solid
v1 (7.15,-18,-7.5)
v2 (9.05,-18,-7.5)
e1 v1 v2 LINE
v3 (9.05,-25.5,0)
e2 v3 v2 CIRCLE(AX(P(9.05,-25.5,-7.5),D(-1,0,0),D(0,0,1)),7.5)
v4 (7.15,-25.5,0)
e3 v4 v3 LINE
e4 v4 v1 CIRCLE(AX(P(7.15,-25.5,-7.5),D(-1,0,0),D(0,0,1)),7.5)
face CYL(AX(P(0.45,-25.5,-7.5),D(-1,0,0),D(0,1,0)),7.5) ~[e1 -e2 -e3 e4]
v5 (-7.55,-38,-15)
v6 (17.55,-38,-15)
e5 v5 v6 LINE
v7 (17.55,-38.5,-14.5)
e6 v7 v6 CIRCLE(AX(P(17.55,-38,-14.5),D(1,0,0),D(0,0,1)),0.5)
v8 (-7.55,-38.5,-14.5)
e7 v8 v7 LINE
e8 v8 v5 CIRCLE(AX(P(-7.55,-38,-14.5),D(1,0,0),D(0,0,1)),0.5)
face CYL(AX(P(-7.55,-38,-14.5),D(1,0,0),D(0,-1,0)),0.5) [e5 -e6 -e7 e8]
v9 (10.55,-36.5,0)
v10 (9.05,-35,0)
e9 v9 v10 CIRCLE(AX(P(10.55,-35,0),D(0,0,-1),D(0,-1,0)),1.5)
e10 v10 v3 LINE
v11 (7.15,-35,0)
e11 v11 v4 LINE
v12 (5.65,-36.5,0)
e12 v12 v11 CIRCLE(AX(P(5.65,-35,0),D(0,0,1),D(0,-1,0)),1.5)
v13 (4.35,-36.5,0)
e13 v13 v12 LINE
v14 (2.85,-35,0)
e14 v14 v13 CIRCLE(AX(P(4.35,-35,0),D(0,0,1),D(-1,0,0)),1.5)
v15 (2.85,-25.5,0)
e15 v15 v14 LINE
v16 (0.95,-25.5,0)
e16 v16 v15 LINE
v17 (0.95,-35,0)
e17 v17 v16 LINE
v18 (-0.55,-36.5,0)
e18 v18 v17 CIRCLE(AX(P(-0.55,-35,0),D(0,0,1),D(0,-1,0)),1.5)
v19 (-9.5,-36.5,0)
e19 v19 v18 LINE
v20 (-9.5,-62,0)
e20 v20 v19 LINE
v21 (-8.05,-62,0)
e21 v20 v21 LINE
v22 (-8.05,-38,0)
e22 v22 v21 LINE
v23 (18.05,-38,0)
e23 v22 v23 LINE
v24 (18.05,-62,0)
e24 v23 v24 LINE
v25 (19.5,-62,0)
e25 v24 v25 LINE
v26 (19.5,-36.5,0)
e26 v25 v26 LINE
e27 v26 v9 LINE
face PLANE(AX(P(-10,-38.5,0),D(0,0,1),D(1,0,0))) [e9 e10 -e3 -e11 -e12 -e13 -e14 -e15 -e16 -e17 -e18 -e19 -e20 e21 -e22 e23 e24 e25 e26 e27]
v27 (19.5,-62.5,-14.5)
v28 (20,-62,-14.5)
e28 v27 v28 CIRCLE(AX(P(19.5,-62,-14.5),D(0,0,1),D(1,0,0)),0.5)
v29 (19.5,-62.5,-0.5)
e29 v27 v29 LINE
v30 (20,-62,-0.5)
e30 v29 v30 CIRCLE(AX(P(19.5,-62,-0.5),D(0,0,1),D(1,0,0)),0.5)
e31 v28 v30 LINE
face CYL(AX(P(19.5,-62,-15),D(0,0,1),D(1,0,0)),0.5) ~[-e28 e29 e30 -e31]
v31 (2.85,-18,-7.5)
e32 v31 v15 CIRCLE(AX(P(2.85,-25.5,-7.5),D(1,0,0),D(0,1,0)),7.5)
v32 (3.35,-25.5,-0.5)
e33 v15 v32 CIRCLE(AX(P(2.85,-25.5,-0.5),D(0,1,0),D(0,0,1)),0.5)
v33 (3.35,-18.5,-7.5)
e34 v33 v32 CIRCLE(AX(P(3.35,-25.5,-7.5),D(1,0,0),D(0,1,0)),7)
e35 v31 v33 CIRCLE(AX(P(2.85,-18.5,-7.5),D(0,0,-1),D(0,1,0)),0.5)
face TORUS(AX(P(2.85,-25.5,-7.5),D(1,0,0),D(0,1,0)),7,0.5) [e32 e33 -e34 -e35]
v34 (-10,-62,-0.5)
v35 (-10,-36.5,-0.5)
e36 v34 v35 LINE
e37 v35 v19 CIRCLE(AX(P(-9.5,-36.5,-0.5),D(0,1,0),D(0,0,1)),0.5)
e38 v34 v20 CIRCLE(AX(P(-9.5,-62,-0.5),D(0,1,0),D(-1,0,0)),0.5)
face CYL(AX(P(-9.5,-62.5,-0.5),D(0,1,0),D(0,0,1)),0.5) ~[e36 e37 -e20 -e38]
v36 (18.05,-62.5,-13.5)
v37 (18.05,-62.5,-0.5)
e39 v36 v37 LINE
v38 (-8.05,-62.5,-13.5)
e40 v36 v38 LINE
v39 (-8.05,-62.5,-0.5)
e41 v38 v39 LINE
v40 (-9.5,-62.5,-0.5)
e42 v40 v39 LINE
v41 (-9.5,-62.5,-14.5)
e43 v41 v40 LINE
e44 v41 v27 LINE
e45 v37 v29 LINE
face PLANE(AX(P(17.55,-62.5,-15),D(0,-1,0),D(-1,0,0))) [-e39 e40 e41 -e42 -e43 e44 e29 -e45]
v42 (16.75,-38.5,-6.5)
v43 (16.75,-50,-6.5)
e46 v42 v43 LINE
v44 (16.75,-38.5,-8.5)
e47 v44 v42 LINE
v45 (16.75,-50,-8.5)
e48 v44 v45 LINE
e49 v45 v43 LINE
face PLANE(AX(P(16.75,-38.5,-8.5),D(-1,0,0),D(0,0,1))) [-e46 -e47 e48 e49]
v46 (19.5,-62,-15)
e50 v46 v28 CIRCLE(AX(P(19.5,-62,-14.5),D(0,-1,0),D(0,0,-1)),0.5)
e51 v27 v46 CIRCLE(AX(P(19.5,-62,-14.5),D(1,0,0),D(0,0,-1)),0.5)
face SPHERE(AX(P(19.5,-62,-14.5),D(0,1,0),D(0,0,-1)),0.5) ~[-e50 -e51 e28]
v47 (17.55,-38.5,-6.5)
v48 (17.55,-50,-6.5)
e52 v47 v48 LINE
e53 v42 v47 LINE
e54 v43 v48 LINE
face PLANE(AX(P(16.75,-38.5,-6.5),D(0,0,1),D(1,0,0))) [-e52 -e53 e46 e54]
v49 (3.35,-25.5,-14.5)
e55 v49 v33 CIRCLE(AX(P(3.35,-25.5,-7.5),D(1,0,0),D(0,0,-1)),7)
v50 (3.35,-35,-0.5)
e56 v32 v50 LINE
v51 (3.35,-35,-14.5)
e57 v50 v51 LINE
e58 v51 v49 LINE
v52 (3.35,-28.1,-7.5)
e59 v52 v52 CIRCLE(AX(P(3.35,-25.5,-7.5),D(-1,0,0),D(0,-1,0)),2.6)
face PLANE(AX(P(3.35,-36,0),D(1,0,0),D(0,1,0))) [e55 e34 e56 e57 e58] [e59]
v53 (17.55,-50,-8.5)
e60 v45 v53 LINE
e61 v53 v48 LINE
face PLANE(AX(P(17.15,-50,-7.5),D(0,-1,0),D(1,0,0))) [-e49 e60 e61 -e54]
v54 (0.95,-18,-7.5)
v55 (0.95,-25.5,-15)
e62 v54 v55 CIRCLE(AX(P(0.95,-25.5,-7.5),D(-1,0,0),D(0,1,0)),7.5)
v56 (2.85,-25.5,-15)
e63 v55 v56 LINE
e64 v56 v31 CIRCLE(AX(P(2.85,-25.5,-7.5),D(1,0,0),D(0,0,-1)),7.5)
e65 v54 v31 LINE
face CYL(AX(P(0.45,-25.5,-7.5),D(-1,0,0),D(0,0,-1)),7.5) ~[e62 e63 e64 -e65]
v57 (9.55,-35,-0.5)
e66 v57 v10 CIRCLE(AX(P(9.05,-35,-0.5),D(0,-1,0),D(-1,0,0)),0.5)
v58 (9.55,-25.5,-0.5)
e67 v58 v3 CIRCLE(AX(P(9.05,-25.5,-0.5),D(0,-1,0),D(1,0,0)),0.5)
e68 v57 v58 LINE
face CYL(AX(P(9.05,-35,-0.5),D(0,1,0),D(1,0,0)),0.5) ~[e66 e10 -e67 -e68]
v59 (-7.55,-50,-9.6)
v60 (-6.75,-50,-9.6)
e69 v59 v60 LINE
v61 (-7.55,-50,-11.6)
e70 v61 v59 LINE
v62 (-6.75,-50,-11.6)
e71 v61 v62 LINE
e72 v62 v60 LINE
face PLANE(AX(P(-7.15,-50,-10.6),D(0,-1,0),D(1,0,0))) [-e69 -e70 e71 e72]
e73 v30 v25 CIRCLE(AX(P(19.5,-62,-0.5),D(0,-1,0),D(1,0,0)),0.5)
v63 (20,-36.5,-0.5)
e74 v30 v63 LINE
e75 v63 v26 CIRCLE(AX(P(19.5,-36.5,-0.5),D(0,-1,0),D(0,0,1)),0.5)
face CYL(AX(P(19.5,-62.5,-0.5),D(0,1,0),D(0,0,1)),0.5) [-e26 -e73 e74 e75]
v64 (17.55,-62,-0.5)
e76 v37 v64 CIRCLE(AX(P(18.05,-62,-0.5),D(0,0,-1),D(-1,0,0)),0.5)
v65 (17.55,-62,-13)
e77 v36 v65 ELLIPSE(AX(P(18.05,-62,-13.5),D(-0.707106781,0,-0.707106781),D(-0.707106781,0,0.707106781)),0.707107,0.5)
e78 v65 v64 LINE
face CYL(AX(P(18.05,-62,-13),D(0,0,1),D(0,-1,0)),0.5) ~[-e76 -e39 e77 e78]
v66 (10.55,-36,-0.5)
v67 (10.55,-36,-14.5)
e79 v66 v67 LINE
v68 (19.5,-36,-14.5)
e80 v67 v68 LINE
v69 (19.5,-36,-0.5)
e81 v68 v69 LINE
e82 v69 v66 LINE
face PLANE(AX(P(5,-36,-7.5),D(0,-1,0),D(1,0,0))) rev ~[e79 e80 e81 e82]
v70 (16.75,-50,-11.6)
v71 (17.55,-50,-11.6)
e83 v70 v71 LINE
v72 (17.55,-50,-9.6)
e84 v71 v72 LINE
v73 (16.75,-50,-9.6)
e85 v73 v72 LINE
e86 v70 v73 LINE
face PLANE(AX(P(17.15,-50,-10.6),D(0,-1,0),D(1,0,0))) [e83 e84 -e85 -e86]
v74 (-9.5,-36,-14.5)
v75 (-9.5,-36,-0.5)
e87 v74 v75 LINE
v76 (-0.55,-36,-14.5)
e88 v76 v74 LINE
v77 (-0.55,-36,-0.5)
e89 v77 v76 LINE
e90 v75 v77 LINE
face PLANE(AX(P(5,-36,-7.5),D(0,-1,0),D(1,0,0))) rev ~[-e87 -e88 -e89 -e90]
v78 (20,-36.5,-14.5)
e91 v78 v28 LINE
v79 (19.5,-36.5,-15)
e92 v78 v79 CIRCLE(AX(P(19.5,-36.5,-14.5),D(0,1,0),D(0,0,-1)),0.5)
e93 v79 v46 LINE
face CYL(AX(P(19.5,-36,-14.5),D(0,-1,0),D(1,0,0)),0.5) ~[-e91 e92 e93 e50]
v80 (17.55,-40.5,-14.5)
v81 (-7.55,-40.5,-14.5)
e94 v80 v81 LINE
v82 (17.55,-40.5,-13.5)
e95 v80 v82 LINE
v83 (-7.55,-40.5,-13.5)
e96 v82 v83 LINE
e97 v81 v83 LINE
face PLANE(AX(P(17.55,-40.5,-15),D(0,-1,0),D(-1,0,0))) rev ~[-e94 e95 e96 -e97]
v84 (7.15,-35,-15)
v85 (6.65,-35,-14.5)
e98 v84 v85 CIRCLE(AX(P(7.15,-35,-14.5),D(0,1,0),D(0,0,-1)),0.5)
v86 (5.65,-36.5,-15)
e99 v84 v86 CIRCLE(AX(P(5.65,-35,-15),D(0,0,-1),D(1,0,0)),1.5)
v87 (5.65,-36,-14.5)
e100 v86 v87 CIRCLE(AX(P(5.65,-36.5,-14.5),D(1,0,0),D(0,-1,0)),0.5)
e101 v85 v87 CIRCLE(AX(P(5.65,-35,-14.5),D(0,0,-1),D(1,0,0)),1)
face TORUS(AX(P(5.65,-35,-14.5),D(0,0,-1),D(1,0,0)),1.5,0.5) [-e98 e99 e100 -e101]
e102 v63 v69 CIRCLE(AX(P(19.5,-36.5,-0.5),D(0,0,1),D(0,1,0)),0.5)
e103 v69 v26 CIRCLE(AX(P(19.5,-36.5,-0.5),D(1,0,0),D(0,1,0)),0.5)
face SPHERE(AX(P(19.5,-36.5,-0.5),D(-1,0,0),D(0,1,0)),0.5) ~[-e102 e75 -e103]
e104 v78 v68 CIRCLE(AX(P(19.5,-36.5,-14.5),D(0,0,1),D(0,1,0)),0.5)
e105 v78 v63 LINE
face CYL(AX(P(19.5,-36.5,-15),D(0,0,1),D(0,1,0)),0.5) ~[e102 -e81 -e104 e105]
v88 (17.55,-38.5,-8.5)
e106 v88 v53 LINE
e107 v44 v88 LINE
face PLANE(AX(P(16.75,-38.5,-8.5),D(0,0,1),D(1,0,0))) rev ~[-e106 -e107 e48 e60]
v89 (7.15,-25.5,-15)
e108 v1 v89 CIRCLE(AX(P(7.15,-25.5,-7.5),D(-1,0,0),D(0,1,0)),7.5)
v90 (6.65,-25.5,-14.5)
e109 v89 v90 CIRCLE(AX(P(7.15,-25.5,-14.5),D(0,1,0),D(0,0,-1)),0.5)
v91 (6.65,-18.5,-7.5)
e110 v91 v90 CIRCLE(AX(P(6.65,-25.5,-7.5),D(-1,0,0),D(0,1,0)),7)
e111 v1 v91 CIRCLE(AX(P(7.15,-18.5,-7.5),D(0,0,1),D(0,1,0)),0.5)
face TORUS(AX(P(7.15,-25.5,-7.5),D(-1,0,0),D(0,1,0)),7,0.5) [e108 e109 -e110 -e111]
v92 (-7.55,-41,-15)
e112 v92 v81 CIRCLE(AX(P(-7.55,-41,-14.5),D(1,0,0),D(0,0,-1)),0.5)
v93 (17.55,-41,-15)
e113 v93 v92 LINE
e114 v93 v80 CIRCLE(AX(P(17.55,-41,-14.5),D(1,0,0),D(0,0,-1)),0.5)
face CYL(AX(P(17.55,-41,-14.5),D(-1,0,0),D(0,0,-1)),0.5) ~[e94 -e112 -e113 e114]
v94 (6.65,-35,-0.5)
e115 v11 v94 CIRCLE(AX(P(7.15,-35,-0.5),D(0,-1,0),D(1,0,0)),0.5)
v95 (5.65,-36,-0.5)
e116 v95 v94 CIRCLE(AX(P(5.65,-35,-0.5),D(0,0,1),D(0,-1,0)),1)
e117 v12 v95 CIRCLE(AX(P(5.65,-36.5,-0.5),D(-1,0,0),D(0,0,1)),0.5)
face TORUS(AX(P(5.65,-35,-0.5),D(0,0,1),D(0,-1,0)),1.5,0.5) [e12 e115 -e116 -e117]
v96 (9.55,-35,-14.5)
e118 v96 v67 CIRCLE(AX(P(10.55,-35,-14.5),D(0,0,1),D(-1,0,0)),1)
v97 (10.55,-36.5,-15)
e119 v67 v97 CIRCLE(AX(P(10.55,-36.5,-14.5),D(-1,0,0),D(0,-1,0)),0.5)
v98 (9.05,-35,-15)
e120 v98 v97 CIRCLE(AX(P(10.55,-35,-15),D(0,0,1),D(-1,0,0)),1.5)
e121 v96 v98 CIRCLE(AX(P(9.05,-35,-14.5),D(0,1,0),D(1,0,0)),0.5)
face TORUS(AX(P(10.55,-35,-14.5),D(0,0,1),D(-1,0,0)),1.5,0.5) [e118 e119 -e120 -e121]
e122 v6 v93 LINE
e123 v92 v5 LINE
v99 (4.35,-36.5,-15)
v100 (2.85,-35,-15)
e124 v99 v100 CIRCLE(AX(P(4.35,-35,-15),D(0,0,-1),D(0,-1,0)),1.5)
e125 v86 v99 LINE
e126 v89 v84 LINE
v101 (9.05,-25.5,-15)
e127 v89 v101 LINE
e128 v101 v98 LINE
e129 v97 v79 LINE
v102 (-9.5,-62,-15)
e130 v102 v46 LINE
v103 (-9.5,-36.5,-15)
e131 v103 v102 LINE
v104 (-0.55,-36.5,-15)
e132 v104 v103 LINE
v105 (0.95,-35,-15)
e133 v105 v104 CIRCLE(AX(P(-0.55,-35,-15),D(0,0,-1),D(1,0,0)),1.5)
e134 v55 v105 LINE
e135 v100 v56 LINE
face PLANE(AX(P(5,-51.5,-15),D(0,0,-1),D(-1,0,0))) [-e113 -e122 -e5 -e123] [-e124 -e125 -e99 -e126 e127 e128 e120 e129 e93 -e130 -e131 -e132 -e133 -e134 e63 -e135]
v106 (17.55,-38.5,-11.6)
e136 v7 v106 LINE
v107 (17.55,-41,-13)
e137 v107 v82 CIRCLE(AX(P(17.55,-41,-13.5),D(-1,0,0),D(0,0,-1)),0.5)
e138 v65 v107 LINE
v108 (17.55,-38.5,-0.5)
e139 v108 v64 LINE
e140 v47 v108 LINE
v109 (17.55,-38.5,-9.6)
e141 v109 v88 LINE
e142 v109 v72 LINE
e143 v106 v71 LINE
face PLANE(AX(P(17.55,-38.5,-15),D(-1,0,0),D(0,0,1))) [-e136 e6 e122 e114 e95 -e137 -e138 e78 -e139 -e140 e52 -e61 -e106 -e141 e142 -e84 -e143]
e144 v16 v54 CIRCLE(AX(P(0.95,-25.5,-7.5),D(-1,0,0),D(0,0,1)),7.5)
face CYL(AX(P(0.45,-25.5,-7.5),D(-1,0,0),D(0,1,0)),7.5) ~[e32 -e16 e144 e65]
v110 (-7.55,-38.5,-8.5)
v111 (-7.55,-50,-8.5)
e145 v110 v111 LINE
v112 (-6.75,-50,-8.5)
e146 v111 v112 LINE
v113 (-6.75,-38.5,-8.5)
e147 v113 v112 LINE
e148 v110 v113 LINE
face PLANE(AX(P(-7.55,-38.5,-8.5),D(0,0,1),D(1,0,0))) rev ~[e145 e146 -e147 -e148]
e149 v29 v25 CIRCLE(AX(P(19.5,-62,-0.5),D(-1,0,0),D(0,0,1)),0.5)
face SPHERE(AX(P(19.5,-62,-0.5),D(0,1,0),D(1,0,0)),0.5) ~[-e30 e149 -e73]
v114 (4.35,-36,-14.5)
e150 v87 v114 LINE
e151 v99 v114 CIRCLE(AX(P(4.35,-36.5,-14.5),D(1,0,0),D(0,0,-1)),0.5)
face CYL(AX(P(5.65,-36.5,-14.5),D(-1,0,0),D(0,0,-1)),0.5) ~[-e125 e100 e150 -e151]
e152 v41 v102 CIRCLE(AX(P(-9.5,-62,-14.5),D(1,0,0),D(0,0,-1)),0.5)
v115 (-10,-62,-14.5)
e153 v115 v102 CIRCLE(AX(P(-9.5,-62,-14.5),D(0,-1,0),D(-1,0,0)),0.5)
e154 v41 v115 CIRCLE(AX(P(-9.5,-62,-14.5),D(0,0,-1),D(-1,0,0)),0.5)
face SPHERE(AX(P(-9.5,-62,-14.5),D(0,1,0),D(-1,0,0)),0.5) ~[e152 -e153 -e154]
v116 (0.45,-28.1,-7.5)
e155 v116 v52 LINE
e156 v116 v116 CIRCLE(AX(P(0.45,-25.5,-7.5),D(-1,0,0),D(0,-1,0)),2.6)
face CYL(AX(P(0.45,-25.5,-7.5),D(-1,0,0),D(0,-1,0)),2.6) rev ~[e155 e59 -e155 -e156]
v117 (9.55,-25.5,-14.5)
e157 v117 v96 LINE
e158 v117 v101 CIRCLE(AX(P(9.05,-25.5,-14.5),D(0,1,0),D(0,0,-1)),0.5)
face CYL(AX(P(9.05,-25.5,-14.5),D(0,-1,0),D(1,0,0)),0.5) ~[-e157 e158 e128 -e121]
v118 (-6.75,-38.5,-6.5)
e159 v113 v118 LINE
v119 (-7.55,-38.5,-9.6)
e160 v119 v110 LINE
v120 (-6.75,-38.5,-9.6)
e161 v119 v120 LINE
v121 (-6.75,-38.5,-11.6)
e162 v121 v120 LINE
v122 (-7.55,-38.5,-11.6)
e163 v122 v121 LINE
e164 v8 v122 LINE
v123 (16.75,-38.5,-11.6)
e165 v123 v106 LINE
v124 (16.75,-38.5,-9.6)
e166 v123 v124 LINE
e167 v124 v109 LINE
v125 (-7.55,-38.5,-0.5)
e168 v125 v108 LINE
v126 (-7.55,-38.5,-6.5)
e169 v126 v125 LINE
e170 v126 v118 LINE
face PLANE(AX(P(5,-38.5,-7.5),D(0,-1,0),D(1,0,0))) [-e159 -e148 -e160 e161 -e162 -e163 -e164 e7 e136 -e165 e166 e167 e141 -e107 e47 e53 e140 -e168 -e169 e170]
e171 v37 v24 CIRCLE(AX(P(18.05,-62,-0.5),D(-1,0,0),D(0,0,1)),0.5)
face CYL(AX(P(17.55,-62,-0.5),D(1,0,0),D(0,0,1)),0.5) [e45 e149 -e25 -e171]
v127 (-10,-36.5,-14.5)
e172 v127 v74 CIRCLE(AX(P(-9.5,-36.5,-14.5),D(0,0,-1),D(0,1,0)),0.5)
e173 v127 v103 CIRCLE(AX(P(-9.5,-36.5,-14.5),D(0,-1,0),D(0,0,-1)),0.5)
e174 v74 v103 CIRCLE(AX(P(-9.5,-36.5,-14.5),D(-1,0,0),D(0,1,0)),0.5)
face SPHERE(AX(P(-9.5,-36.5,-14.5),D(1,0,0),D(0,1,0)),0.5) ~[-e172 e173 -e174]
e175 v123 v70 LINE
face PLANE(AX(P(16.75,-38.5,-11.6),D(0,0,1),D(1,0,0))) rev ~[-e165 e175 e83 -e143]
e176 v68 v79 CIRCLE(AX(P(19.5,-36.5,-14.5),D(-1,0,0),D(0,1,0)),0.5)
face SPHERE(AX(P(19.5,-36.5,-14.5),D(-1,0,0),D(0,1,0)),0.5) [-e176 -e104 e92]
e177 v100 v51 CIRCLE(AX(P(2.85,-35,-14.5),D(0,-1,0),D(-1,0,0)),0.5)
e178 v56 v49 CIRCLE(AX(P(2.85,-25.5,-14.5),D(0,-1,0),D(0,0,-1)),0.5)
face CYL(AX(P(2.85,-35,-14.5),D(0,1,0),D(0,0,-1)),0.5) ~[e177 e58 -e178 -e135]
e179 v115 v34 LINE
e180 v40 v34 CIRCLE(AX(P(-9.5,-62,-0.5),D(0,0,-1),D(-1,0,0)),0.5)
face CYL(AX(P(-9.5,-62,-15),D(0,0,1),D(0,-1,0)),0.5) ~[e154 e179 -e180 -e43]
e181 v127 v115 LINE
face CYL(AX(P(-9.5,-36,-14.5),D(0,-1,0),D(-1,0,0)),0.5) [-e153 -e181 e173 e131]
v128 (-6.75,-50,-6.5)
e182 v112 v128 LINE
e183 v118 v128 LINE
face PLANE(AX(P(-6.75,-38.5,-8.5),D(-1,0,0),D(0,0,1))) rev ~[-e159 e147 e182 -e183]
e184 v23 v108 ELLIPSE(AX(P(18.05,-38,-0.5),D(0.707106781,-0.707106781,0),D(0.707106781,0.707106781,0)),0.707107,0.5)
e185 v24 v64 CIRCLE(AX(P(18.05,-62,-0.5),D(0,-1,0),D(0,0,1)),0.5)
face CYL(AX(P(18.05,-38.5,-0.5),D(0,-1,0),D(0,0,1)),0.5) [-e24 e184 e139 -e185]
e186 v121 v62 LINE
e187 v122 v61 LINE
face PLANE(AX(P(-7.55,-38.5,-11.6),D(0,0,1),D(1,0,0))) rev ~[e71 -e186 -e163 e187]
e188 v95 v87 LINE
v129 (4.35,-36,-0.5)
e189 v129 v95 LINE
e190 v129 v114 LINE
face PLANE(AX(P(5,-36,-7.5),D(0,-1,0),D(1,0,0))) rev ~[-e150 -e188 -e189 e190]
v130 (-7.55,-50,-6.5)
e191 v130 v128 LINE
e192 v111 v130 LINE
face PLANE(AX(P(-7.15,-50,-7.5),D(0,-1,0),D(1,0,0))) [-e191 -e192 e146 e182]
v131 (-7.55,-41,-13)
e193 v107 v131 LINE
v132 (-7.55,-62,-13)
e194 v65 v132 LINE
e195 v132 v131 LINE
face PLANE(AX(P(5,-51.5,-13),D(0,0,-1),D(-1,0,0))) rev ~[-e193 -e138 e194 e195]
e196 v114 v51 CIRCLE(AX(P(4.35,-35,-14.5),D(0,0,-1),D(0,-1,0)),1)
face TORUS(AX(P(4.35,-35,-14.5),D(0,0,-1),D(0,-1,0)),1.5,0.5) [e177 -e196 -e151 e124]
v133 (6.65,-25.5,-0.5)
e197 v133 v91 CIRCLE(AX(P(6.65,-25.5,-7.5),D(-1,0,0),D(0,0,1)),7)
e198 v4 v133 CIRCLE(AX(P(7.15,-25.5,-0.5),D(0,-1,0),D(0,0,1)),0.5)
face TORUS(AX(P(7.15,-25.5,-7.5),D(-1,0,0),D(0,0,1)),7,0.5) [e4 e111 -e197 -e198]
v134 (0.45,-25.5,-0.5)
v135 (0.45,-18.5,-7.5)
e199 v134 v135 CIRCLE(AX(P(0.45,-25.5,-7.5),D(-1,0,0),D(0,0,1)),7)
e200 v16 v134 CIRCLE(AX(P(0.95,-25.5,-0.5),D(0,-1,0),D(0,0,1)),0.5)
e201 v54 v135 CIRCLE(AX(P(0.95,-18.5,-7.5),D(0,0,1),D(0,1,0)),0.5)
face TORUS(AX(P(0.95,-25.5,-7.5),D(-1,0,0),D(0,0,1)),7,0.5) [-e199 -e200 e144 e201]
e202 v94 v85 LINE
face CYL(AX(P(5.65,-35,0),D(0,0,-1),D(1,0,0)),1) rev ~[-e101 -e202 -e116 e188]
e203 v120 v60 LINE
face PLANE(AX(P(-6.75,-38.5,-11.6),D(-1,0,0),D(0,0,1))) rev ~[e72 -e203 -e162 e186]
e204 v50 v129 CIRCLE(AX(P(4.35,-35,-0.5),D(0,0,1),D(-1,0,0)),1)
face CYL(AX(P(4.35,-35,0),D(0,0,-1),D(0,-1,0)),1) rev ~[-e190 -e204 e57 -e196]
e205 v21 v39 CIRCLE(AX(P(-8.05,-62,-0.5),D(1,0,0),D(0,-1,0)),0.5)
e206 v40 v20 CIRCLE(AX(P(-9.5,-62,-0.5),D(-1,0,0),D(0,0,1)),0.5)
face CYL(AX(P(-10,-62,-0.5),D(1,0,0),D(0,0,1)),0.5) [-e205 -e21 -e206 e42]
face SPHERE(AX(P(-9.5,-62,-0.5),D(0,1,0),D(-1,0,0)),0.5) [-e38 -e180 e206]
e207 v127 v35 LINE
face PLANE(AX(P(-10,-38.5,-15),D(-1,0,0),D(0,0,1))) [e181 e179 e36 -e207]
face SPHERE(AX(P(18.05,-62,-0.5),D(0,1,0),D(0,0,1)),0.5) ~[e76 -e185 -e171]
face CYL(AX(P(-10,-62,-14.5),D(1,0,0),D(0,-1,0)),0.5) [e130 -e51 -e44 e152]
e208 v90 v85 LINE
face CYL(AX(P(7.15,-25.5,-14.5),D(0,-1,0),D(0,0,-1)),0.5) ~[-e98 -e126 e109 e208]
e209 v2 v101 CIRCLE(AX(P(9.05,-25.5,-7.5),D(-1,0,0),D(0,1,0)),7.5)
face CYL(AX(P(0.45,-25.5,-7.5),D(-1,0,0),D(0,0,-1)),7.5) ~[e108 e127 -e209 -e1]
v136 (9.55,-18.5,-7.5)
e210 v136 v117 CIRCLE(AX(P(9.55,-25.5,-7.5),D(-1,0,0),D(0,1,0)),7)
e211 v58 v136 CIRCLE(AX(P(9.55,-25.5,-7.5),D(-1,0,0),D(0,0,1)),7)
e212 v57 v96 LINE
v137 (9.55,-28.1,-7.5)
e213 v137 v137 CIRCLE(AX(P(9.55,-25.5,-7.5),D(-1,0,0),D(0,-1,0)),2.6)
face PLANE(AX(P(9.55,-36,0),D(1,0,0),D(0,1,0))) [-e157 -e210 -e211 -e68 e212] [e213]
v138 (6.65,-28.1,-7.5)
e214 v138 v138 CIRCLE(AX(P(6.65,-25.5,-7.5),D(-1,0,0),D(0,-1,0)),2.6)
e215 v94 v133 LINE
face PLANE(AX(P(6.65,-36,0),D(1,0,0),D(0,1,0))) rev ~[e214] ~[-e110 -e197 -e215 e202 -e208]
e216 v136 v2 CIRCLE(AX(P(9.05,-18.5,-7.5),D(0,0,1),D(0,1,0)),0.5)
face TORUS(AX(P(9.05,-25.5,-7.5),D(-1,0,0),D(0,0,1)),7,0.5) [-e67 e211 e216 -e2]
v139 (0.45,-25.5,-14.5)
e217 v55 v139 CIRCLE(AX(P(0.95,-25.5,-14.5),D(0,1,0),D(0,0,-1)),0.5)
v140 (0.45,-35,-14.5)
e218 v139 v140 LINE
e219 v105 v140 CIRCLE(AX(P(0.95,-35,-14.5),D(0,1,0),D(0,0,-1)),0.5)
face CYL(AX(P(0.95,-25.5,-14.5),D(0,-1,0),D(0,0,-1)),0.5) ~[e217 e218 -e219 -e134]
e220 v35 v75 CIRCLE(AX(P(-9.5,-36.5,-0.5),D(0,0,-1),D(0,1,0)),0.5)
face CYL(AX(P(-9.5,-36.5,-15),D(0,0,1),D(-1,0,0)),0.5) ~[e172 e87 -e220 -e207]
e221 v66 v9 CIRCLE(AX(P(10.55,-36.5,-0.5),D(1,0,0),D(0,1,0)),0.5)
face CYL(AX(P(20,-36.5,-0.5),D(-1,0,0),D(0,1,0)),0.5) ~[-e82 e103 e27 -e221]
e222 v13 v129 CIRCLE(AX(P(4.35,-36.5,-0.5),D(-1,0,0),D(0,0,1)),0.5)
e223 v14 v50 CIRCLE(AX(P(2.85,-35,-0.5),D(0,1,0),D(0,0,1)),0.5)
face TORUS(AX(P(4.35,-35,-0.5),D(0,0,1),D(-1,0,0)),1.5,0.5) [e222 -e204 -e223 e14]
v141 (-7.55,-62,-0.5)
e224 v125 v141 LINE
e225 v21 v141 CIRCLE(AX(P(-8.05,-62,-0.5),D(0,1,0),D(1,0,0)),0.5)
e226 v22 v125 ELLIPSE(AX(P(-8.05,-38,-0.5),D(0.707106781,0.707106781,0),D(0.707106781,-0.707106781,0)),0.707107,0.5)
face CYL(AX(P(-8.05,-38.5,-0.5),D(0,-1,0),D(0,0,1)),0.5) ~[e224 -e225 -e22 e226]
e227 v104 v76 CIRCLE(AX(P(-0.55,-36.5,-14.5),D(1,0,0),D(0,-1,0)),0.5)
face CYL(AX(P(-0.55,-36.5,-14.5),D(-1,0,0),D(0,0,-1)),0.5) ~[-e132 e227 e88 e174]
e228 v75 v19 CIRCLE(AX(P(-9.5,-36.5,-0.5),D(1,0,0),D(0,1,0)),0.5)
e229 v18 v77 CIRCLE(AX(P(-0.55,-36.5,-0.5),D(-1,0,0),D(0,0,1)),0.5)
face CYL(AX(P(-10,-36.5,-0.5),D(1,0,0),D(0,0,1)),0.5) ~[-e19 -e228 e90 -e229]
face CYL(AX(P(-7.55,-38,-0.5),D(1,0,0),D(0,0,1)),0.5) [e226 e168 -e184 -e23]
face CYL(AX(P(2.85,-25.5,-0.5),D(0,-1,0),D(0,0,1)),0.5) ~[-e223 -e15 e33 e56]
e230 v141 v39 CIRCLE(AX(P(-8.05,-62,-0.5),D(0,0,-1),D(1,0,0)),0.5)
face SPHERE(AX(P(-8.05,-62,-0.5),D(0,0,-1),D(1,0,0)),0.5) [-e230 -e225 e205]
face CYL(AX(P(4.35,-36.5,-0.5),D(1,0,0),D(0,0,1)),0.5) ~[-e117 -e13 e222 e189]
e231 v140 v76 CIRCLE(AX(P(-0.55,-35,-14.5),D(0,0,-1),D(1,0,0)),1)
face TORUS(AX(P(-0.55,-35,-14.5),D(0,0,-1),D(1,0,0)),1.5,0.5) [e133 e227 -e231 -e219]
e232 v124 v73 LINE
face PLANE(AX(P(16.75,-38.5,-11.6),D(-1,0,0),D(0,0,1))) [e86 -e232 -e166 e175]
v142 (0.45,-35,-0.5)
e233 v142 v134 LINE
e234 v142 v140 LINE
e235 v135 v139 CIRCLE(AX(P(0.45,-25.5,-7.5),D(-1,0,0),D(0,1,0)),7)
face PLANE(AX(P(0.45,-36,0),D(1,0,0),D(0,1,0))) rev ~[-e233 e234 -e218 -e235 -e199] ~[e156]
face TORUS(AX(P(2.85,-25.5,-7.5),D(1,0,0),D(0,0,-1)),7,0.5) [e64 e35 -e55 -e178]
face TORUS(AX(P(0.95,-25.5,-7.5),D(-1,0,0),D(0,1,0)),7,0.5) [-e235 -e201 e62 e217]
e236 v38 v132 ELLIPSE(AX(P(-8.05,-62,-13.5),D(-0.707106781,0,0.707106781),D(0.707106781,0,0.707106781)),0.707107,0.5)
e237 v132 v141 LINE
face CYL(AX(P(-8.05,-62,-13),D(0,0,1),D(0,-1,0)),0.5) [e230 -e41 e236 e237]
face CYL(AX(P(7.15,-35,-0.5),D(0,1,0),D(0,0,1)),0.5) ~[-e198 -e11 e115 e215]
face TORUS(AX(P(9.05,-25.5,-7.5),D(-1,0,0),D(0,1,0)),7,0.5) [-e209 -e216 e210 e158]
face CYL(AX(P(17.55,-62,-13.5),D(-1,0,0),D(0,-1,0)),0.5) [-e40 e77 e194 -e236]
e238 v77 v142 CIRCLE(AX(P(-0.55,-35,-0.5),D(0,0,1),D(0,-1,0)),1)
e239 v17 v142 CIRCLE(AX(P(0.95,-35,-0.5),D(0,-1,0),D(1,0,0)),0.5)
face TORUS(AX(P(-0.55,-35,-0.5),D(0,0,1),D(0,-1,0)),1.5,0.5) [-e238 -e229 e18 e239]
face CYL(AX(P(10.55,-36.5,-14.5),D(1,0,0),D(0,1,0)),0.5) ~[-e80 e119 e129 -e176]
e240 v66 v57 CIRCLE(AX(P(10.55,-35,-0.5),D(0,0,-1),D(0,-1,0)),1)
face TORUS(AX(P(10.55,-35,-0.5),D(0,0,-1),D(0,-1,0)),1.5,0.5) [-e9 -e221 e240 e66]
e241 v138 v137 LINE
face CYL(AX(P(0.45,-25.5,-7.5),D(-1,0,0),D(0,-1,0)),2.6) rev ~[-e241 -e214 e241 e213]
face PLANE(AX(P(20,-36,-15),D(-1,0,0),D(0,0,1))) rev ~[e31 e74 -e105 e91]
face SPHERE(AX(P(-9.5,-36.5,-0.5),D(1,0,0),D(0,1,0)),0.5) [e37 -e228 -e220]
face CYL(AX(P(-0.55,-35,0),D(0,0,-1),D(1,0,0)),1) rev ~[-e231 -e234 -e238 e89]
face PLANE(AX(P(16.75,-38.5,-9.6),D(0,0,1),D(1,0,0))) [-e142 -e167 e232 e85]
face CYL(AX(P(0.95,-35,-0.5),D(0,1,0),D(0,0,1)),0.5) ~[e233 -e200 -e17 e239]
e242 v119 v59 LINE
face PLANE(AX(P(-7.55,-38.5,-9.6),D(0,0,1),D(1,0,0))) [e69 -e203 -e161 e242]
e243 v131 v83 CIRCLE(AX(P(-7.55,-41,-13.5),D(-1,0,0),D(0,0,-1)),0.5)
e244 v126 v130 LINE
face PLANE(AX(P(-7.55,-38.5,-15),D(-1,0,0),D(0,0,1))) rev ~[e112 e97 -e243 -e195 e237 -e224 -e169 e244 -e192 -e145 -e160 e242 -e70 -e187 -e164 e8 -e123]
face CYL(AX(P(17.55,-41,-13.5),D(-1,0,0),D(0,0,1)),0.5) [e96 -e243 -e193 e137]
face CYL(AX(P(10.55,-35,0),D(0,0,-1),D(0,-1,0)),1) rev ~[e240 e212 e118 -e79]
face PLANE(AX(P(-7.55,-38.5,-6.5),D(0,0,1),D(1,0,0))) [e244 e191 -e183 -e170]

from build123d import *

# Parameters (mm, degrees)
SKETCH1_W             = 2.9
SKETCH1_H             = 18
BOSS_EXTRUDE1_DEPTH   = 15
BOSS_EXTRUDE1_2_DEPTH = 15
SKETCH2_R             = 2.6
CUT_EXTRUDE2_DEPTH    = 15
SKETCH3_W             = 30
SKETCH3_H             = 15
BOSS_EXTRUDE2_DEPTH   = 2.5
SKETCH4_W             = 2.45
SKETCH4_H             = 15
BOSS_EXTRUDE3_DEPTH   = 24
SKETCH5_W             = 25.1
SKETCH5_H             = 22
BOSS_EXTRUDE4_DEPTH   = 2
SKETCH6_W             = 0.8
SKETCH6_H             = 2
BOSS_EXTRUDE5_DEPTH   = 11.5
FILLET1_R             = 1
FILLET2_R             = 0.5


with BuildPart() as part:
    # Sketch1 → Boss-Extrude1 (new body)
    with BuildSketch(Plane.XY):
        with Locations((1.900000354, -27)):
            Rectangle(SKETCH1_W, SKETCH1_H)
    extrude(amount=-BOSS_EXTRUDE1_DEPTH)


with BuildPart() as body_2:
    # Sketch1 → Boss-Extrude1 2 (new body)
    with BuildSketch(Plane.XY):
        with Locations((8.100000354, -27)):
            Rectangle(SKETCH1_W, SKETCH1_H)
    extrude(amount=-BOSS_EXTRUDE1_2_DEPTH)


with BuildPart() as cut_extrude2_tool:
    # Sketch2 → Cut-Extrude2 (new body)
    with BuildSketch(Plane.ZY.offset(-0.450000354)):
        Polygon((-18.927806179, -18.044715247), (-15, -25.5), (-15, -18), (-7.5, -18), (0, -18), (0, -25.5), (4.387953652, -18.044715247), (4.387953652, -9.702474232), (-18.415606681, -11.446843021), align=None)
        with BuildLine():
            Line((-15, -18), (-15, -25.5))
            ThreePointArc((-15, -25.5), (-12.803300859, -20.196699141), (-7.5, -18))
            Line((-7.5, -18), (-15, -18))
        make_face()
        with BuildLine():
            ThreePointArc((-7.5, -18), (-2.196699141, -20.196699141), (0, -25.5))
            Line((0, -25.5), (0, -18))
            Line((0, -18), (-7.5, -18))
        make_face()
        with Locations(Location((-7.5, -25.5, 0), (0, 0, 270))):
            Circle(SKETCH2_R)
    extrude(amount=-CUT_EXTRUDE2_DEPTH)


with BuildPart() as part_1:
    add(part.part)

    # Cut-Extrude2: cut by cut_extrude2_tool
    add(cut_extrude2_tool.part, mode=Mode.SUBTRACT)



with BuildPart() as body_2_1:
    add(body_2.part)

    # Cut-Extrude2: cut by cut_extrude2_tool
    add(cut_extrude2_tool.part, mode=Mode.SUBTRACT)


with BuildPart() as part_2:
    add(part_1.part)

    add(body_2_1.part)  # Boss-Extrude2 merges body 2
    # Sketch3 → Boss-Extrude2 (add)
    with BuildSketch(Plane.XZ.offset(36)):
        with Locations((5.000000354, -7.5)):
            Rectangle(SKETCH3_W, SKETCH3_H)
    extrude(amount=BOSS_EXTRUDE2_DEPTH)

    # Sketch4 → Boss-Extrude3 (add)
    with BuildSketch(Plane.XZ.offset(38.5)):
        with Locations((-8.774999646, -7.5)):
            Rectangle(SKETCH4_W, SKETCH4_H)
        with Locations((18.775000354, -7.5)):
            Rectangle(SKETCH4_W, SKETCH4_H)
    extrude(amount=BOSS_EXTRUDE3_DEPTH)

    # Sketch5 → Boss-Extrude4 (add)
    with BuildSketch(Plane(origin=(0, 0, -15), x_dir=(-1, 0, 0), z_dir=(0, 0, -1))):
        with Locations((-5.000000354, -51.5)):
            Rectangle(SKETCH5_W, SKETCH5_H)
    extrude(amount=-BOSS_EXTRUDE4_DEPTH)

    # Sketch6 → Boss-Extrude5 (add)
    with BuildSketch(Plane.XZ.offset(38.5)):
        with Locations((-7.149999646, -7.5)):
            Rectangle(SKETCH6_W, SKETCH6_H)
        with Locations((-7.149999646, -10.6)):
            Rectangle(SKETCH6_W, SKETCH6_H)
        with Locations((17.150000354, -7.5)):
            Rectangle(SKETCH6_W, SKETCH6_H)
        with Locations((17.150000354, -10.6)):
            Rectangle(SKETCH6_W, SKETCH6_H)
    extrude(amount=BOSS_EXTRUDE5_DEPTH)

    # Fillet1
    fillet1_edges = [part_2.edges().sort_by_distance(p)[0] for p in [
        (6.650000354, -36, -7.5),
        (9.550000354, -36, -7.5),
        (3.350000354, -36, -7.5),
        (0.450000354, -36, -7.5),
    ]]
    fillet(fillet1_edges, radius=FILLET1_R)

    # Fillet2
    fillet2_edges = [part_2.edges().sort_by_distance(p)[0] for p in [
        (-7.549999646, -62.5, -6.5),
        (5.000000354, -62.5, -13),
        (5.000000354, -40.5, -13),
        (5.000000354, -40.5, -15),
        (0.450000354, -30.25, 0),
        (0.450000354, -30.25, -15),
        (-5.274999646, -36, 0),
        (5.000000354, -36, 0),
        (5.000000354, -36, -15),
        (3.350000354, -30.25, -15),
        (3.350000354, -30.25, 0),
        (15.275000354, -36, -15),
        (9.550000354, -30.25, -15),
        (9.550000354, -30.25, 0),
        (0.157107135, -35.707106781, 0),
        (0.157107135, -35.707106781, -15),
        (6.357107135, -35.707106781, 0),
        (6.357107135, -35.707106781, -15),
        (3.642893573, -35.707106781, 0),
        (3.642893573, -35.707106781, -15),
        (9.842893573, -35.707106781, 0),
        (9.842893573, -35.707106781, -15),
        (3.350000354, -18, -7.5),
        (0.450000354, -18, -7.5),
        (-9.999999646, -36, -7.5),
        (-9.999999646, -49.25, 0),
        (-5.274999646, -36, -15),
        (-9.999999646, -49.25, -15),
        (20.000000354, -36, -7.5),
        (20.000000354, -49.25, -15),
        (15.275000354, -36, 0),
        (20.000000354, -49.25, 0),
        (6.650000354, -18, -7.5),
        (6.650000354, -30.25, -15),
        (9.550000354, -18, -7.5),
        (6.650000354, -30.25, 0),
        (5.000000354, -38.5, -15),
        (-7.549999646, -50.5, 0),
        (-9.999999646, -62.5, -7.5),
        (5.000000354, -62.5, -15),
        (-8.774999646, -62.5, 0),
        (5.000000354, -38.5, 0),
        (17.550000354, -50.5, 0),
        (20.000000354, -62.5, -7.5),
        (18.775000354, -62.5, 0),
        (17.550000354, -62.5, -6.5),
    ]]
    fillet(fillet2_edges, radius=FILLET2_R)


solid = part_2.part
